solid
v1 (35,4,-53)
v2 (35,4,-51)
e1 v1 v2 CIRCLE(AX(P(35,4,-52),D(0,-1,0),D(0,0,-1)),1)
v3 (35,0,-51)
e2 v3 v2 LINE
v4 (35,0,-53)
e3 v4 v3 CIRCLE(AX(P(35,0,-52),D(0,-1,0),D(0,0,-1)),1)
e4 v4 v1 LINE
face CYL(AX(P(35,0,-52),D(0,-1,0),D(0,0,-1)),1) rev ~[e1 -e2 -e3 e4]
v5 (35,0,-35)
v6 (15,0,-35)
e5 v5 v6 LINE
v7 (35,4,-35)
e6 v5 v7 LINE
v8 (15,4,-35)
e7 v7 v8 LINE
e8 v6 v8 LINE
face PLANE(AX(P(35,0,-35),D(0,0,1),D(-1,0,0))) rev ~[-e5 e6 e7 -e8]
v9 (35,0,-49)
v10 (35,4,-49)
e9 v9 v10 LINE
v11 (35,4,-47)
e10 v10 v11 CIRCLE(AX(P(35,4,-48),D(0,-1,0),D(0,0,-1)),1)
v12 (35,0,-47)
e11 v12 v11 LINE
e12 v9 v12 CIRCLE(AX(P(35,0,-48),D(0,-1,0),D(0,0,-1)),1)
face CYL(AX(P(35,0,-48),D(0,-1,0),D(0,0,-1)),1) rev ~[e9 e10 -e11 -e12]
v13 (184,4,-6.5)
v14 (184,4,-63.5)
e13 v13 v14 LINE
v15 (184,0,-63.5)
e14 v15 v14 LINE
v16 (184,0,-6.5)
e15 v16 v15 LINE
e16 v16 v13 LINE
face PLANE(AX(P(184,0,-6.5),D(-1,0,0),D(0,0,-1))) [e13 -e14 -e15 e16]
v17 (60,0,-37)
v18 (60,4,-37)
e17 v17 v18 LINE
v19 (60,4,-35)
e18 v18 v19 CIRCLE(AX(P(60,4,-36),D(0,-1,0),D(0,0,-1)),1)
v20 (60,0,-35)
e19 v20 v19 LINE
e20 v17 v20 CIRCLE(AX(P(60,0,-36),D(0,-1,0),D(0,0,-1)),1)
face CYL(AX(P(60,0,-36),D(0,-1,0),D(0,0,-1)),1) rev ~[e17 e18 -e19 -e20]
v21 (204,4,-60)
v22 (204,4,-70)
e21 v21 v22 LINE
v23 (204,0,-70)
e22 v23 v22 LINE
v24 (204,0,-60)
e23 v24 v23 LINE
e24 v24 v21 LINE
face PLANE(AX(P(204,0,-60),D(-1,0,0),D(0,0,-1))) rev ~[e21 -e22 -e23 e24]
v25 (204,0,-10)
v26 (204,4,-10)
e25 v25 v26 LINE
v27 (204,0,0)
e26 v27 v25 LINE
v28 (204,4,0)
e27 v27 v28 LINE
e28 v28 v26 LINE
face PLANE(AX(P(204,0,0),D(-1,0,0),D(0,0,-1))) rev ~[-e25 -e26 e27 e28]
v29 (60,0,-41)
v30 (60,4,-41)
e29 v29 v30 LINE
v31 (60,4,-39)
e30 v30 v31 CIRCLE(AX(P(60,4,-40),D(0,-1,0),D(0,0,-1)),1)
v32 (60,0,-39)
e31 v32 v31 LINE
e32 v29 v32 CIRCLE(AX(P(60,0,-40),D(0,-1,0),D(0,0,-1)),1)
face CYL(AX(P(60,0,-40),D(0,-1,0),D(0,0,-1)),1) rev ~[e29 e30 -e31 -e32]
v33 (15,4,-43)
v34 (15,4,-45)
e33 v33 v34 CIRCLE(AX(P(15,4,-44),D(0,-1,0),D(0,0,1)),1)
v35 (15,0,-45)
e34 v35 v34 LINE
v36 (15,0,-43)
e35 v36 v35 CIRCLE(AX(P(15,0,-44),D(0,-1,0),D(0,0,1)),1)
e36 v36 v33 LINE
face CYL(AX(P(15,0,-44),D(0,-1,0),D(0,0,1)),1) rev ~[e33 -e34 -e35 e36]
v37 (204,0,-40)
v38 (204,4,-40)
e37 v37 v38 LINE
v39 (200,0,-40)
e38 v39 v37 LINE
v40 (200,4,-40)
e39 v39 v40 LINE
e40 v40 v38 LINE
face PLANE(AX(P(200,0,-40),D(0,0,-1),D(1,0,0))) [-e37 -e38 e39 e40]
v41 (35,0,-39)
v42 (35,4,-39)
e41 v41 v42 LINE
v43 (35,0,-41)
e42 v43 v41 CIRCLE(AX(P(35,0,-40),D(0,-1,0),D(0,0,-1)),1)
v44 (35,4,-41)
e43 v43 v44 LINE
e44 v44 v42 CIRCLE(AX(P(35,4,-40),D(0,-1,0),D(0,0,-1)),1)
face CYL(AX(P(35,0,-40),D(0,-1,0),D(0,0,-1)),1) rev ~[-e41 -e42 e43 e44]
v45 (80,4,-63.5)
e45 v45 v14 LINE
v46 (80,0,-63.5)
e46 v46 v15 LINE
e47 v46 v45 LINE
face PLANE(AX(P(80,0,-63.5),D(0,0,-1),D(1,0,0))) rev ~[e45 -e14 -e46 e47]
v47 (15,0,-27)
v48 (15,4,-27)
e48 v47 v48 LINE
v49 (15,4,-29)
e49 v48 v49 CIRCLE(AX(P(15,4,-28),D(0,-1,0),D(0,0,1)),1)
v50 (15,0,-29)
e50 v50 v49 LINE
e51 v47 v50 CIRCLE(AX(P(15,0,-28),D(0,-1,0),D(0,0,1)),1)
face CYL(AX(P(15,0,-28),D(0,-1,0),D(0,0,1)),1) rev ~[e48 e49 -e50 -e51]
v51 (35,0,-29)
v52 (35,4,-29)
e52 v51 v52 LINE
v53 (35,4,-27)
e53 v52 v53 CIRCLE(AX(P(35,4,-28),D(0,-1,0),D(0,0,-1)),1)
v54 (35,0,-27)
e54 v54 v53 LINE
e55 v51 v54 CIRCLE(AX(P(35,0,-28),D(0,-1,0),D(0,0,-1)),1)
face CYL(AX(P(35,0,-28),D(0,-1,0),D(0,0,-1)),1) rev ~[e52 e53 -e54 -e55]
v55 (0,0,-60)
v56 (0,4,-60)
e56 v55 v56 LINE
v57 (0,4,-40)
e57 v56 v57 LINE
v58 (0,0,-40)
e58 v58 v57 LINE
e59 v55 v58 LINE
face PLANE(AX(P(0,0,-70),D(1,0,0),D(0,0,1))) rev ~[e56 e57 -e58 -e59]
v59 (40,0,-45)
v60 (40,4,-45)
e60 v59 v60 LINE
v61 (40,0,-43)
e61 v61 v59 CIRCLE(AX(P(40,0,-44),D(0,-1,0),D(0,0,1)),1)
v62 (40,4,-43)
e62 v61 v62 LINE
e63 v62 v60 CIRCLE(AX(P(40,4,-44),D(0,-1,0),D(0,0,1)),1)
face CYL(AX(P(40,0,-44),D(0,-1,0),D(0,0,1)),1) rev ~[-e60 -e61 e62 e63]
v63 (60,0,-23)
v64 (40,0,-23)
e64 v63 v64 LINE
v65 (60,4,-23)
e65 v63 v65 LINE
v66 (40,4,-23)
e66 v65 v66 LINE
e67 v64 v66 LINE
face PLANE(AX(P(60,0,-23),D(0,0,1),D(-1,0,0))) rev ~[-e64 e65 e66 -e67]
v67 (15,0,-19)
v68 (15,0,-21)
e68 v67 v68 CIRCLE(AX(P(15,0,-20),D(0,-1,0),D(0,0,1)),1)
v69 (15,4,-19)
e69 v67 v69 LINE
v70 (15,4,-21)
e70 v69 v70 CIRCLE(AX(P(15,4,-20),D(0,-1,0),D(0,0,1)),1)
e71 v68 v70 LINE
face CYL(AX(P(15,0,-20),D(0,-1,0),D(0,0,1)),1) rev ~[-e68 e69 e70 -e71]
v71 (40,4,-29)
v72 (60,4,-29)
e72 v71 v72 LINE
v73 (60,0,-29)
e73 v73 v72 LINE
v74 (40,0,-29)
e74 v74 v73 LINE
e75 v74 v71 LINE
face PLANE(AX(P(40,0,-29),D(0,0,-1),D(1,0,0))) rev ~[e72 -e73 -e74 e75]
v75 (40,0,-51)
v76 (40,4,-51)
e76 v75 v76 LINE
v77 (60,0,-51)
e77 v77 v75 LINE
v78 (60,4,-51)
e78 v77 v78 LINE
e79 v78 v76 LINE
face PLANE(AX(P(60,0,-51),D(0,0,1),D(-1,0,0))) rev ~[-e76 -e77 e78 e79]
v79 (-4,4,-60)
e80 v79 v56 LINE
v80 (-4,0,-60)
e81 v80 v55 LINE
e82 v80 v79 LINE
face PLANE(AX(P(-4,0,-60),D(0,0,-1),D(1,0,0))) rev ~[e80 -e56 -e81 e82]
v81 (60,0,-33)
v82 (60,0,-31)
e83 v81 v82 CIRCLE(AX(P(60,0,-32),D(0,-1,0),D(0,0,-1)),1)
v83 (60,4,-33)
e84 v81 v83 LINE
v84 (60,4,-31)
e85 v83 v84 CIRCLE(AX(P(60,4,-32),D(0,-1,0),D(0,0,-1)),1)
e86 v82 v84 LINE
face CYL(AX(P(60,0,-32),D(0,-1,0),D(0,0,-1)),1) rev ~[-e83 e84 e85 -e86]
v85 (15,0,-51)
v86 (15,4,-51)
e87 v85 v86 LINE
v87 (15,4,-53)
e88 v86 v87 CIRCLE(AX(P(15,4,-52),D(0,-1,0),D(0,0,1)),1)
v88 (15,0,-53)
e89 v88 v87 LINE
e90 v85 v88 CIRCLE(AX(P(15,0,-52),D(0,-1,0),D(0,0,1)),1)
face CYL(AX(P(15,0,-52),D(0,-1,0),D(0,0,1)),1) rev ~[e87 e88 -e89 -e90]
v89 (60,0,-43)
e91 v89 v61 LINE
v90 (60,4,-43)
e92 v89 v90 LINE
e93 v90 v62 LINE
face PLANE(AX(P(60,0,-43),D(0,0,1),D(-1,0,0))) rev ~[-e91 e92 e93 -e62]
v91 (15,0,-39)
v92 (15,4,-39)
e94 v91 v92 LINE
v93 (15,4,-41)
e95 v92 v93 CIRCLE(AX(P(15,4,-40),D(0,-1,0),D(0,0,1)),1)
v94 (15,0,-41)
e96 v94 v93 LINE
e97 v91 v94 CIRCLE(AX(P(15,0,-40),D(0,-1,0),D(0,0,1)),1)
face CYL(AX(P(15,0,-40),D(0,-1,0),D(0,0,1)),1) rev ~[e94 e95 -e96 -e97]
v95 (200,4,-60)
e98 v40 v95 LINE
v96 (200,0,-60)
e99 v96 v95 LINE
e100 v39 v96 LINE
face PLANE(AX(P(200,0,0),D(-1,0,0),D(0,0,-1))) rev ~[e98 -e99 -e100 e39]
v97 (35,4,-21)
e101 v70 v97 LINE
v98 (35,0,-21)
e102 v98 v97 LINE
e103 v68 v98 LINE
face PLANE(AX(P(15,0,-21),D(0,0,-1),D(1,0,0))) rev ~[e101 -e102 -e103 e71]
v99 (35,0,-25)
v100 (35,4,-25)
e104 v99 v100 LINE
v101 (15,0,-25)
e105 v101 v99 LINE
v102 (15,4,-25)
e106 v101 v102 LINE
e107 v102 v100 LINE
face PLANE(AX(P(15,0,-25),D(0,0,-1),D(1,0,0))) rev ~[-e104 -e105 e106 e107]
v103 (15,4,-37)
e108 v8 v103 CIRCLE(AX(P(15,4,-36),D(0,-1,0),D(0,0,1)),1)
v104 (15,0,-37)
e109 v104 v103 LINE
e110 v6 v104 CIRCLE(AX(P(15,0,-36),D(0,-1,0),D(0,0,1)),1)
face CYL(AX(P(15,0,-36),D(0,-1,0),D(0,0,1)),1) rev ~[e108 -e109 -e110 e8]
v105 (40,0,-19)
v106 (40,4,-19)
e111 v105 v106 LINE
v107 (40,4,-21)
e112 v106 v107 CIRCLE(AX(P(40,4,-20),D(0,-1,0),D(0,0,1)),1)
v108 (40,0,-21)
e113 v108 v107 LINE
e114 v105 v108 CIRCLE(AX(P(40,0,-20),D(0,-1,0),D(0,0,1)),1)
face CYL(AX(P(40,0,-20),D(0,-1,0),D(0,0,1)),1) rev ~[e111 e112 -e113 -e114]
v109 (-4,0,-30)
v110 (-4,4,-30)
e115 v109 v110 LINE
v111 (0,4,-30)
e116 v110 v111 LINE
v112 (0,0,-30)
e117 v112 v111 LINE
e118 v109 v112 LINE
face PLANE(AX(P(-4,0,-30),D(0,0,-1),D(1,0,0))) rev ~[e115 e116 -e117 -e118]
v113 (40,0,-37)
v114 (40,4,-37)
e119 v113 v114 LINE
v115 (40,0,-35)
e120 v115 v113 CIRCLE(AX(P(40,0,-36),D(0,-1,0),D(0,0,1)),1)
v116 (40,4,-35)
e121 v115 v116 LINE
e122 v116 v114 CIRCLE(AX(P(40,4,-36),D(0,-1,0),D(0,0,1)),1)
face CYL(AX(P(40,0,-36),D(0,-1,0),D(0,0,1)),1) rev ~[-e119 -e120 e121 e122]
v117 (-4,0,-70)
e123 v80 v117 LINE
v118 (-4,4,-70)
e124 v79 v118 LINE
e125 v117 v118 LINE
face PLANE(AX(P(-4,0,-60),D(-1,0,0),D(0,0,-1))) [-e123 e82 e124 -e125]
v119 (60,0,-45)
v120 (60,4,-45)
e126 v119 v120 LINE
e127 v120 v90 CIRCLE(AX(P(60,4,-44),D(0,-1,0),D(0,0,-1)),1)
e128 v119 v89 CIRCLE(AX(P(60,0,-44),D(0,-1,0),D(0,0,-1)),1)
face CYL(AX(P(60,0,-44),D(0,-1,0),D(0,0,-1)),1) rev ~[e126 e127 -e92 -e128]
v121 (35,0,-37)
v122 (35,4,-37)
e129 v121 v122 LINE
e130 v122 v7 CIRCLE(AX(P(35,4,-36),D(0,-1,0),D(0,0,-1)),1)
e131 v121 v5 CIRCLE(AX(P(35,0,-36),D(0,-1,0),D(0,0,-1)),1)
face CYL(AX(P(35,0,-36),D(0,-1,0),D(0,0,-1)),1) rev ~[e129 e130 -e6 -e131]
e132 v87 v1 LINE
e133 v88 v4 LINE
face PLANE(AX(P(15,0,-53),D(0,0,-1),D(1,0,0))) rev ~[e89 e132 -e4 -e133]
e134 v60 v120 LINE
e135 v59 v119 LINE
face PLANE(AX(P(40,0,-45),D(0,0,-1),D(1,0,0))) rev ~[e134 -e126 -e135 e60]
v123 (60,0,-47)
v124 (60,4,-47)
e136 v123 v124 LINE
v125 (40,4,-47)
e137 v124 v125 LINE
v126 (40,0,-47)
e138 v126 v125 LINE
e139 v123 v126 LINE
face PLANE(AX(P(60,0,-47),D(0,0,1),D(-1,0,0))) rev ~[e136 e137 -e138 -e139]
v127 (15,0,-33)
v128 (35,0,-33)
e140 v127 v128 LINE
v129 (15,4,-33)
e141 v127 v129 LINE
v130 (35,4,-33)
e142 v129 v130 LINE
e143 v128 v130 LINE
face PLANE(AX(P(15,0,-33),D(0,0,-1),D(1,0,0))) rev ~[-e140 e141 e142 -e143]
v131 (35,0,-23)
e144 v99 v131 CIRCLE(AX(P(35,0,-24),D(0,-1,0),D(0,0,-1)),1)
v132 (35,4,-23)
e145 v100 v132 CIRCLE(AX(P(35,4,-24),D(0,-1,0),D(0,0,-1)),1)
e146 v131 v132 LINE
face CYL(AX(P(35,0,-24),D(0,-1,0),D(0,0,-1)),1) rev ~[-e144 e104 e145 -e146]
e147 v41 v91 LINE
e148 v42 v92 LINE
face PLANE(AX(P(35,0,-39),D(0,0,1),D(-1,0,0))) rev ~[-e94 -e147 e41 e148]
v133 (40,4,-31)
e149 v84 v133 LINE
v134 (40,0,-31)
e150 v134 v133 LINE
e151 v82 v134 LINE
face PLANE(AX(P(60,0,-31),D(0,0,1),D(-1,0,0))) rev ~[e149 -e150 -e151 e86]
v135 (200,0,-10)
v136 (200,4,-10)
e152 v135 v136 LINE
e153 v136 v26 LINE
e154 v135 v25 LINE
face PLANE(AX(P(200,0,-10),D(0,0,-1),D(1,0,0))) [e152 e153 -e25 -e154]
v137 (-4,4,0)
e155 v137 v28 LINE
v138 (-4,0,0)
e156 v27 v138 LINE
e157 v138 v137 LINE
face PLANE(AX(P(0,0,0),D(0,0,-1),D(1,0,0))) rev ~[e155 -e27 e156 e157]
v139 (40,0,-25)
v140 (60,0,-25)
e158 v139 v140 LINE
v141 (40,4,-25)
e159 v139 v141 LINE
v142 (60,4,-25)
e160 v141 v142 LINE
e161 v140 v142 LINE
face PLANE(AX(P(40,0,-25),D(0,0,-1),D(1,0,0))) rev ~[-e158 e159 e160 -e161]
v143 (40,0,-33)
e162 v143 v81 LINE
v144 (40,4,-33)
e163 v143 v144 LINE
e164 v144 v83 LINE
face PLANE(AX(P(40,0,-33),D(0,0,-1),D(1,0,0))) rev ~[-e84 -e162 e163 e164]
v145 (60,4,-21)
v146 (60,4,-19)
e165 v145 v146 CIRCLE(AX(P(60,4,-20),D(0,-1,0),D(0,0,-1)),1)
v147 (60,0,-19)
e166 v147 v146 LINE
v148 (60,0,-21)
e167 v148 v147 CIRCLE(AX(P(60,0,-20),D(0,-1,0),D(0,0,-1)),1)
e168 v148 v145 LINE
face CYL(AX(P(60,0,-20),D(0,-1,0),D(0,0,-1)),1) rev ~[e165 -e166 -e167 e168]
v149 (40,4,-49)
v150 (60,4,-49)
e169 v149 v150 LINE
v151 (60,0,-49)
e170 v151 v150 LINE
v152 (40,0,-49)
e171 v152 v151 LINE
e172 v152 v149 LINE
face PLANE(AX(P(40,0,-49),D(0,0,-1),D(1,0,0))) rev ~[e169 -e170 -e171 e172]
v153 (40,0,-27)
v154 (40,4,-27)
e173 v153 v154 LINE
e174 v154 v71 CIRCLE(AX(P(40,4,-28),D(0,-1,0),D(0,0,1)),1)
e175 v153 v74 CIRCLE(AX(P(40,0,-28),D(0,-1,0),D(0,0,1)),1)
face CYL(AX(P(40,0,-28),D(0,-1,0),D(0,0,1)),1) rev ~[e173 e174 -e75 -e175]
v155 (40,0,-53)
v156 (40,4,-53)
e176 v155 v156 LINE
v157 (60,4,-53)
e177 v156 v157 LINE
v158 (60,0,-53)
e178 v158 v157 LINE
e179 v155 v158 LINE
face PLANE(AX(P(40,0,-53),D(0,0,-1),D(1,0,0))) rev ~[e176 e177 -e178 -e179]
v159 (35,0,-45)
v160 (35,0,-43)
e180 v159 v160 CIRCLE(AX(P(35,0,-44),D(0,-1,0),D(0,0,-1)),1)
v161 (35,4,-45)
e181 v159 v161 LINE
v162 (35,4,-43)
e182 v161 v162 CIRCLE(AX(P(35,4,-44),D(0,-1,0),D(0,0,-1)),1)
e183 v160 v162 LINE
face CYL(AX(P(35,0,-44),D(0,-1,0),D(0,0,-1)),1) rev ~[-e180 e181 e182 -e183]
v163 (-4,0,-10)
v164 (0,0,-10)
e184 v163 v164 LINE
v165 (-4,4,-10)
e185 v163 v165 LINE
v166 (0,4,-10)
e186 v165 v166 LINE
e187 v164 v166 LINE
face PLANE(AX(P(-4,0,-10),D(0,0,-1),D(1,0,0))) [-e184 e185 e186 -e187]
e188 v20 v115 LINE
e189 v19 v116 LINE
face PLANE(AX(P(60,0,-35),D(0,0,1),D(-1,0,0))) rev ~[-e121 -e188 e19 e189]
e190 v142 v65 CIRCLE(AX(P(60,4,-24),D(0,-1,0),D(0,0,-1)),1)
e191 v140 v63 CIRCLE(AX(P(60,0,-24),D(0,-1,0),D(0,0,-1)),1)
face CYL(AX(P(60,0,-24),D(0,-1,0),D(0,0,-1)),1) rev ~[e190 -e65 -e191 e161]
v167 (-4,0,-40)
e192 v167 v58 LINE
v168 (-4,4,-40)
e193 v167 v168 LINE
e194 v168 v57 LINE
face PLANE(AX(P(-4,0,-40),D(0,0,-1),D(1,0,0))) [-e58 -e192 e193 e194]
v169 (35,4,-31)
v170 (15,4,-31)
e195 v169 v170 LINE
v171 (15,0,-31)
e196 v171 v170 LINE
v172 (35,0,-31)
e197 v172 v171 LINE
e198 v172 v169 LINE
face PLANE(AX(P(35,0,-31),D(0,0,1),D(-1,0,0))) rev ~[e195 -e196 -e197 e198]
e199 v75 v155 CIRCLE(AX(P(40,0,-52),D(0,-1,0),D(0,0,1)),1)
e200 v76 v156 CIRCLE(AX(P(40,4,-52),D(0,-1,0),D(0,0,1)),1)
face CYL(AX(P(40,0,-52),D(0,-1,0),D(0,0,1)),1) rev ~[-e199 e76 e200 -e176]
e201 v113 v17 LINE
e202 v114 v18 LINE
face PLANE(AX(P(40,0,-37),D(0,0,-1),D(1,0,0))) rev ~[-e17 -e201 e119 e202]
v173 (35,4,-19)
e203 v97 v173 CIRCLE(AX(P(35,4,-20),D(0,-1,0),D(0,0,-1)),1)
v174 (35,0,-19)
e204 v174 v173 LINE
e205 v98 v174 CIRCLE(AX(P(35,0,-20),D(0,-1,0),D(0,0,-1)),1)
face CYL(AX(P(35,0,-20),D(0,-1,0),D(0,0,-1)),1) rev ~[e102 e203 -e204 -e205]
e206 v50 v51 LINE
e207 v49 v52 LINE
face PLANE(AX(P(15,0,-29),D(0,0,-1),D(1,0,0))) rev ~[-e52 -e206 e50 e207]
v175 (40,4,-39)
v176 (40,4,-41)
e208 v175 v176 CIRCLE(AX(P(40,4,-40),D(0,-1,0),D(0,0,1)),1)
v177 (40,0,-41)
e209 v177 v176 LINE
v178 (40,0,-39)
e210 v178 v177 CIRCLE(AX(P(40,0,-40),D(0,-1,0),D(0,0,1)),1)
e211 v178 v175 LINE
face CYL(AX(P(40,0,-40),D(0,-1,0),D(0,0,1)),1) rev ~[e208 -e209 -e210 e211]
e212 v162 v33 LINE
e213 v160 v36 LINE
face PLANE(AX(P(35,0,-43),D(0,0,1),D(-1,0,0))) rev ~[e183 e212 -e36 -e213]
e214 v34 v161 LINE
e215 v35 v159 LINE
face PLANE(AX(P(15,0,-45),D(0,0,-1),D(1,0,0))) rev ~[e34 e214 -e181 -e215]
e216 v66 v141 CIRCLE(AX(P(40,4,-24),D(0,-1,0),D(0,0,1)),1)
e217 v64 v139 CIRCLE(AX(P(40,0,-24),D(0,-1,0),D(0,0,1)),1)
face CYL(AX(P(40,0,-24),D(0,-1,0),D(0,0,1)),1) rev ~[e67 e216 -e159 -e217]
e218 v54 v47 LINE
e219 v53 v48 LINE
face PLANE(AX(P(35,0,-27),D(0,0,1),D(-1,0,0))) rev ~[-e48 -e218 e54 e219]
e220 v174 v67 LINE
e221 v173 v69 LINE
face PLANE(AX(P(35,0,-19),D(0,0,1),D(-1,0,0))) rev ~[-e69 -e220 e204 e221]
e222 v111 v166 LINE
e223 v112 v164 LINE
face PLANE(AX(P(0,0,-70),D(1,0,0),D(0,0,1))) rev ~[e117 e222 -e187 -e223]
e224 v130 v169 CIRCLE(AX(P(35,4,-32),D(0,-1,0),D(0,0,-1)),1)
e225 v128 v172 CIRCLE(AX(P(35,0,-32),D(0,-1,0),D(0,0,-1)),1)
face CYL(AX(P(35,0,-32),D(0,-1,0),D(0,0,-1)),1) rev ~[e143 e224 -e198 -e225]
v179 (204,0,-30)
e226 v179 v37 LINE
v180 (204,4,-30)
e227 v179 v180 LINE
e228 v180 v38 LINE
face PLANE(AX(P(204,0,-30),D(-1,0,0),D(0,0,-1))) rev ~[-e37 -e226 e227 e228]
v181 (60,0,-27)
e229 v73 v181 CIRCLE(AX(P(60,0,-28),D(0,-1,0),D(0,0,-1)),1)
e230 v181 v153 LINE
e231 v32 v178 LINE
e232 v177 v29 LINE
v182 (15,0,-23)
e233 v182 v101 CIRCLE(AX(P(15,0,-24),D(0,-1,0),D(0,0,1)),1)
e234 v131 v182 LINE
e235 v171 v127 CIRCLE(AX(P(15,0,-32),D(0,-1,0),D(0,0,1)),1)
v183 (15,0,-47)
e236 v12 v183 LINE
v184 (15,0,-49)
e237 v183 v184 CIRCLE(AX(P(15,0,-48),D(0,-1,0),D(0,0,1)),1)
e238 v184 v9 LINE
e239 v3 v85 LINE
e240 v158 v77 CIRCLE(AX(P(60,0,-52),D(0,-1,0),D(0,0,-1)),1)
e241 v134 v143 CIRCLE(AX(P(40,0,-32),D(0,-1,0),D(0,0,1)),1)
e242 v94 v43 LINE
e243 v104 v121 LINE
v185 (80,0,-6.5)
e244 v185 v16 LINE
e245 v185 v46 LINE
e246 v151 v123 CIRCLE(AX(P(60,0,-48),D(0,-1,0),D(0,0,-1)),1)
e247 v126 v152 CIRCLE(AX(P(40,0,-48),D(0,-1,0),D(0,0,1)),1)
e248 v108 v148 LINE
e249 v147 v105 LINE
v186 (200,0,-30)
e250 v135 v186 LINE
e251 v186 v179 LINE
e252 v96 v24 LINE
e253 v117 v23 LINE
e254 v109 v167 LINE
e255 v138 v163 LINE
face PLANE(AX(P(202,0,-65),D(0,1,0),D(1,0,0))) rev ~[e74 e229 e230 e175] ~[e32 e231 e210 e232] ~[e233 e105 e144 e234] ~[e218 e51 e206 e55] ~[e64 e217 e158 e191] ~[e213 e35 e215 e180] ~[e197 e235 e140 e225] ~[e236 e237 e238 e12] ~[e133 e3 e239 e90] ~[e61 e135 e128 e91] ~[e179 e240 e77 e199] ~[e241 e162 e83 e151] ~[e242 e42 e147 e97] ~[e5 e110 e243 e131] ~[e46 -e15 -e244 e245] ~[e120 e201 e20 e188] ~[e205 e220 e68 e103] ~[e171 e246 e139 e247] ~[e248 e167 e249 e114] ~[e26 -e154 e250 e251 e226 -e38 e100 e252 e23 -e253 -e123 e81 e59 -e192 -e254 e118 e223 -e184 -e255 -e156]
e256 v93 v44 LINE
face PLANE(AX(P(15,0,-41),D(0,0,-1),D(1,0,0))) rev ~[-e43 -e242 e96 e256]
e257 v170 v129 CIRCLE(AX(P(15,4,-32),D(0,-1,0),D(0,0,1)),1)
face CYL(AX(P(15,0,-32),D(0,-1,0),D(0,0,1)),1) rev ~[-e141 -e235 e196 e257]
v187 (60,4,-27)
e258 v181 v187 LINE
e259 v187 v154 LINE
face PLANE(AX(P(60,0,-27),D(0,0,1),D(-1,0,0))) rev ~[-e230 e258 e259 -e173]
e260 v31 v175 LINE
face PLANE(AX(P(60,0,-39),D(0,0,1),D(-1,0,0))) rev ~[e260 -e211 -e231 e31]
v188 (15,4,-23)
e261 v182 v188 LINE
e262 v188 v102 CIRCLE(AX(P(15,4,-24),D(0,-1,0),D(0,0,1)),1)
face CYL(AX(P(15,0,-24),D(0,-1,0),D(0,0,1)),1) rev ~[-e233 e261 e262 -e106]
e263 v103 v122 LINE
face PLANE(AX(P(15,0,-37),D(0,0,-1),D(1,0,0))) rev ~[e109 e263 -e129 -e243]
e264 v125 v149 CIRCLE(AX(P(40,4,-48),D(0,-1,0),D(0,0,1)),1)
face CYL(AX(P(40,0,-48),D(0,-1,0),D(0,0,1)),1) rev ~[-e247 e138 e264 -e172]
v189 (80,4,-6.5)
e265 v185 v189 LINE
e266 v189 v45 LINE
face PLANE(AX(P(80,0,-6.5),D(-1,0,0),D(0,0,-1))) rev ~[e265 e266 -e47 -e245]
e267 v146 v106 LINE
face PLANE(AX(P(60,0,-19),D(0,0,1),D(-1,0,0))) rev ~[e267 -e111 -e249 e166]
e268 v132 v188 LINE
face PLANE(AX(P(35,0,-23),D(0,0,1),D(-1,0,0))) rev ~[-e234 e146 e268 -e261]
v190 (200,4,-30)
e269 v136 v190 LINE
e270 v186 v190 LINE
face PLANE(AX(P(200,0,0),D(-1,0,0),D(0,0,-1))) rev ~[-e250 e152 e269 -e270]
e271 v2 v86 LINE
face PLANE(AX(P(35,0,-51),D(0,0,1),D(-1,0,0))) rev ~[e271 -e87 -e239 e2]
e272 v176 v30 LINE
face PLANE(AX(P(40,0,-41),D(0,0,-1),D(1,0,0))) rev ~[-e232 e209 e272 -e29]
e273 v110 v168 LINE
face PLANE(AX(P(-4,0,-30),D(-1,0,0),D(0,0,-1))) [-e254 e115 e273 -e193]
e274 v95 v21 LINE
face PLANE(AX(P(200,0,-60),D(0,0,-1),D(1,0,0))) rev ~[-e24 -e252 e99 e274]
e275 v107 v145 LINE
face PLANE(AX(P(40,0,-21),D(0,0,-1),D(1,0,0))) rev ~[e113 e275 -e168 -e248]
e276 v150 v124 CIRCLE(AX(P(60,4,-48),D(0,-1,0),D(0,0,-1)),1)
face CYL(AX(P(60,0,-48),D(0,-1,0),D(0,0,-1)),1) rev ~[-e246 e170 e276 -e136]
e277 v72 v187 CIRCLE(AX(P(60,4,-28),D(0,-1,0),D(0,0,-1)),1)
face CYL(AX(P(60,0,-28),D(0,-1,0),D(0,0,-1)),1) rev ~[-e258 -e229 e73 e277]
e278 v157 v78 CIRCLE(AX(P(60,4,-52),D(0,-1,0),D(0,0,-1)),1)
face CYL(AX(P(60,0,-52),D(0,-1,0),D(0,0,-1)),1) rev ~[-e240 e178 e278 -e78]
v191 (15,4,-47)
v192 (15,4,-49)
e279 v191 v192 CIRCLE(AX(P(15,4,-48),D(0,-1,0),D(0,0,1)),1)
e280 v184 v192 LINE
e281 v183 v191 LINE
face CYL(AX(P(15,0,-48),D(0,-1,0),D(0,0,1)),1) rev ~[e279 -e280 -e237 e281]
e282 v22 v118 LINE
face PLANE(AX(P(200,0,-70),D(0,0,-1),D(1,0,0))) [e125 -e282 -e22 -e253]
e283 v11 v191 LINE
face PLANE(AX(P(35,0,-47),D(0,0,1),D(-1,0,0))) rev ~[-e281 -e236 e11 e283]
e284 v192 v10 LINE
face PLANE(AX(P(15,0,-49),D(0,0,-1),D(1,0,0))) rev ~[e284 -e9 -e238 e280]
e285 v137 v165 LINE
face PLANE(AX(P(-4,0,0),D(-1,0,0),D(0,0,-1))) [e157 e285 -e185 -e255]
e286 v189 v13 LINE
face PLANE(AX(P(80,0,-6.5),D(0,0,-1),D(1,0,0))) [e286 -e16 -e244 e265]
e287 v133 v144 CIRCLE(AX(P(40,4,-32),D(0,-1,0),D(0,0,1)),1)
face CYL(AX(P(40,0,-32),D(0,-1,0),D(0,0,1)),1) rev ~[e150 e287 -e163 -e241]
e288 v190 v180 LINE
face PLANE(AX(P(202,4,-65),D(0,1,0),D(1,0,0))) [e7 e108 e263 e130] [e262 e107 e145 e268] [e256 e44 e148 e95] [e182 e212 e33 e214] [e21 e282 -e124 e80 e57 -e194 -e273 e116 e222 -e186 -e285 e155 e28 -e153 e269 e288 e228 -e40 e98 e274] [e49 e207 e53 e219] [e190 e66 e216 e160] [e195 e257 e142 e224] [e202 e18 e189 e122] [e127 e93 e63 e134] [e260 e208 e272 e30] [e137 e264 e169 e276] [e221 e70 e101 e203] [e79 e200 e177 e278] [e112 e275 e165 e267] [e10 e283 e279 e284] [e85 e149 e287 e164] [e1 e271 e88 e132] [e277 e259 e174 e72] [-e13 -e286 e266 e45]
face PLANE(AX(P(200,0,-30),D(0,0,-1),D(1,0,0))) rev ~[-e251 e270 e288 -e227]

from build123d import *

# Parameters (mm, degrees)
SKETCH1_W           = 104
SKETCH1_H           = 57
SKETCH1_W_2         = 4
SKETCH1_H_2         = 10
BOSS_EXTRUDE1_DEPTH = 4


with BuildPart() as part:
    # Sketch1 → Boss-Extrude1 (new body)
    # profile 1 of 7: a face of its own
    with BuildSketch(Plane(origin=(0, 0, 0), x_dir=(1, 0, 0), z_dir=(0, 1, 0))):
        Polygon((0, 10), (0, 0), (200, 0), (200, 10), (200, 30), (200, 40), (200, 60), (200, 70), (0, 70), (0, 60), (0, 40), (0, 30), align=None)
        with BuildLine():
            ThreePointArc((35, 21), (36, 20), (35, 19))
            Line((35, 19), (15, 19))
            ThreePointArc((15, 19), (14, 20), (15, 21))
            Line((15, 21), (35, 21))
        make_face(mode=Mode.SUBTRACT)
        with BuildLine():
            ThreePointArc((35, 25), (36, 24), (35, 23))
            Line((35, 23), (15, 23))
            ThreePointArc((15, 23), (14, 24), (15, 25))
            Line((15, 25), (35, 25))
        make_face(mode=Mode.SUBTRACT)
        with BuildLine():
            ThreePointArc((35, 29), (36, 28), (35, 27))
            Line((35, 27), (15, 27))
            ThreePointArc((15, 27), (14, 28), (15, 29))
            Line((15, 29), (35, 29))
        make_face(mode=Mode.SUBTRACT)
        with BuildLine():
            ThreePointArc((35, 33), (36, 32), (35, 31))
            Line((35, 31), (15, 31))
            ThreePointArc((15, 31), (14, 32), (15, 33))
            Line((15, 33), (35, 33))
        make_face(mode=Mode.SUBTRACT)
        with BuildLine():
            ThreePointArc((60, 21), (61, 20), (60, 19))
            Line((60, 19), (40, 19))
            ThreePointArc((40, 19), (39, 20), (40, 21))
            Line((40, 21), (60, 21))
        make_face(mode=Mode.SUBTRACT)
        with BuildLine():
            ThreePointArc((60, 25), (61, 24), (60, 23))
            Line((60, 23), (40, 23))
            ThreePointArc((40, 23), (39, 24), (40, 25))
            Line((40, 25), (60, 25))
        make_face(mode=Mode.SUBTRACT)
        with BuildLine():
            ThreePointArc((60, 29), (61, 28), (60, 27))
            Line((60, 27), (40, 27))
            ThreePointArc((40, 27), (39, 28), (40, 29))
            Line((40, 29), (60, 29))
        make_face(mode=Mode.SUBTRACT)
        with BuildLine():
            ThreePointArc((60, 33), (61, 32), (60, 31))
            Line((60, 31), (40, 31))
            ThreePointArc((40, 31), (39, 32), (40, 33))
            Line((40, 33), (60, 33))
        make_face(mode=Mode.SUBTRACT)
        with BuildLine():
            ThreePointArc((35, 37), (36, 36), (35, 35))
            Line((35, 35), (15, 35))
            ThreePointArc((15, 35), (14, 36), (15, 37))
            Line((15, 37), (35, 37))
        make_face(mode=Mode.SUBTRACT)
        with BuildLine():
            ThreePointArc((35, 41), (36, 40), (35, 39))
            Line((35, 39), (15, 39))
            ThreePointArc((15, 39), (14, 40), (15, 41))
            Line((15, 41), (35, 41))
        make_face(mode=Mode.SUBTRACT)
        with BuildLine():
            ThreePointArc((35, 45), (36, 44), (35, 43))
            Line((35, 43), (15, 43))
            ThreePointArc((15, 43), (14, 44), (15, 45))
            Line((15, 45), (35, 45))
        make_face(mode=Mode.SUBTRACT)
        with BuildLine():
            ThreePointArc((35, 49), (36, 48), (35, 47))
            Line((35, 47), (15, 47))
            ThreePointArc((15, 47), (14, 48), (15, 49))
            Line((15, 49), (35, 49))
        make_face(mode=Mode.SUBTRACT)
        with BuildLine():
            ThreePointArc((35, 53), (36, 52), (35, 51))
            Line((35, 51), (15, 51))
            ThreePointArc((15, 51), (14, 52), (15, 53))
            Line((15, 53), (35, 53))
        make_face(mode=Mode.SUBTRACT)
        with BuildLine():
            ThreePointArc((60, 37), (61, 36), (60, 35))
            Line((60, 35), (40, 35))
            ThreePointArc((40, 35), (39, 36), (40, 37))
            Line((40, 37), (60, 37))
        make_face(mode=Mode.SUBTRACT)
        with BuildLine():
            ThreePointArc((60, 41), (61, 40), (60, 39))
            Line((60, 39), (40, 39))
            ThreePointArc((40, 39), (39, 40), (40, 41))
            Line((40, 41), (60, 41))
        make_face(mode=Mode.SUBTRACT)
        with BuildLine():
            ThreePointArc((60, 45), (61, 44), (60, 43))
            Line((60, 43), (40, 43))
            ThreePointArc((40, 43), (39, 44), (40, 45))
            Line((40, 45), (60, 45))
        make_face(mode=Mode.SUBTRACT)
        with BuildLine():
            ThreePointArc((60, 49), (61, 48), (60, 47))
            Line((60, 47), (40, 47))
            ThreePointArc((40, 47), (39, 48), (40, 49))
            Line((40, 49), (60, 49))
        make_face(mode=Mode.SUBTRACT)
        with BuildLine():
            ThreePointArc((60, 53), (61, 52), (60, 51))
            Line((60, 51), (40, 51))
            ThreePointArc((40, 51), (39, 52), (40, 53))
            Line((40, 53), (60, 53))
        make_face(mode=Mode.SUBTRACT)
        with Locations((132, 35)):
            Rectangle(SKETCH1_W, SKETCH1_H, mode=Mode.SUBTRACT)
    # profile 2 of 7: a face of its own
    with BuildSketch(Plane(origin=(0, 0, 0), x_dir=(1, 0, 0), z_dir=(0, 1, 0))):
        with Locations((-2, 5)):
            Rectangle(SKETCH1_W_2, SKETCH1_H_2)
    # profile 3 of 7: a face of its own
    with BuildSketch(Plane(origin=(0, 0, 0), x_dir=(1, 0, 0), z_dir=(0, 1, 0))):
        with Locations((202, 5)):
            Rectangle(SKETCH1_W_2, SKETCH1_H_2)
    # profile 4 of 7: a face of its own
    with BuildSketch(Plane(origin=(0, 0, 0), x_dir=(1, 0, 0), z_dir=(0, 1, 0))):
        with Locations((-2, 35)):
            Rectangle(SKETCH1_W_2, SKETCH1_H_2)
    # profile 5 of 7: a face of its own
    with BuildSketch(Plane(origin=(0, 0, 0), x_dir=(1, 0, 0), z_dir=(0, 1, 0))):
        with Locations((202, 35)):
            Rectangle(SKETCH1_W_2, SKETCH1_H_2)
    # profile 6 of 7: a face of its own
    with BuildSketch(Plane(origin=(0, 0, 0), x_dir=(1, 0, 0), z_dir=(0, 1, 0))):
        with Locations((-2, 65)):
            Rectangle(SKETCH1_W_2, SKETCH1_H_2)
    # profile 7 of 7: a face of its own
    with BuildSketch(Plane(origin=(0, 0, 0), x_dir=(1, 0, 0), z_dir=(0, 1, 0))):
        with Locations((202, 65)):
            Rectangle(SKETCH1_W_2, SKETCH1_H_2)
    extrude(amount=BOSS_EXTRUDE1_DEPTH)


solid = part.part
